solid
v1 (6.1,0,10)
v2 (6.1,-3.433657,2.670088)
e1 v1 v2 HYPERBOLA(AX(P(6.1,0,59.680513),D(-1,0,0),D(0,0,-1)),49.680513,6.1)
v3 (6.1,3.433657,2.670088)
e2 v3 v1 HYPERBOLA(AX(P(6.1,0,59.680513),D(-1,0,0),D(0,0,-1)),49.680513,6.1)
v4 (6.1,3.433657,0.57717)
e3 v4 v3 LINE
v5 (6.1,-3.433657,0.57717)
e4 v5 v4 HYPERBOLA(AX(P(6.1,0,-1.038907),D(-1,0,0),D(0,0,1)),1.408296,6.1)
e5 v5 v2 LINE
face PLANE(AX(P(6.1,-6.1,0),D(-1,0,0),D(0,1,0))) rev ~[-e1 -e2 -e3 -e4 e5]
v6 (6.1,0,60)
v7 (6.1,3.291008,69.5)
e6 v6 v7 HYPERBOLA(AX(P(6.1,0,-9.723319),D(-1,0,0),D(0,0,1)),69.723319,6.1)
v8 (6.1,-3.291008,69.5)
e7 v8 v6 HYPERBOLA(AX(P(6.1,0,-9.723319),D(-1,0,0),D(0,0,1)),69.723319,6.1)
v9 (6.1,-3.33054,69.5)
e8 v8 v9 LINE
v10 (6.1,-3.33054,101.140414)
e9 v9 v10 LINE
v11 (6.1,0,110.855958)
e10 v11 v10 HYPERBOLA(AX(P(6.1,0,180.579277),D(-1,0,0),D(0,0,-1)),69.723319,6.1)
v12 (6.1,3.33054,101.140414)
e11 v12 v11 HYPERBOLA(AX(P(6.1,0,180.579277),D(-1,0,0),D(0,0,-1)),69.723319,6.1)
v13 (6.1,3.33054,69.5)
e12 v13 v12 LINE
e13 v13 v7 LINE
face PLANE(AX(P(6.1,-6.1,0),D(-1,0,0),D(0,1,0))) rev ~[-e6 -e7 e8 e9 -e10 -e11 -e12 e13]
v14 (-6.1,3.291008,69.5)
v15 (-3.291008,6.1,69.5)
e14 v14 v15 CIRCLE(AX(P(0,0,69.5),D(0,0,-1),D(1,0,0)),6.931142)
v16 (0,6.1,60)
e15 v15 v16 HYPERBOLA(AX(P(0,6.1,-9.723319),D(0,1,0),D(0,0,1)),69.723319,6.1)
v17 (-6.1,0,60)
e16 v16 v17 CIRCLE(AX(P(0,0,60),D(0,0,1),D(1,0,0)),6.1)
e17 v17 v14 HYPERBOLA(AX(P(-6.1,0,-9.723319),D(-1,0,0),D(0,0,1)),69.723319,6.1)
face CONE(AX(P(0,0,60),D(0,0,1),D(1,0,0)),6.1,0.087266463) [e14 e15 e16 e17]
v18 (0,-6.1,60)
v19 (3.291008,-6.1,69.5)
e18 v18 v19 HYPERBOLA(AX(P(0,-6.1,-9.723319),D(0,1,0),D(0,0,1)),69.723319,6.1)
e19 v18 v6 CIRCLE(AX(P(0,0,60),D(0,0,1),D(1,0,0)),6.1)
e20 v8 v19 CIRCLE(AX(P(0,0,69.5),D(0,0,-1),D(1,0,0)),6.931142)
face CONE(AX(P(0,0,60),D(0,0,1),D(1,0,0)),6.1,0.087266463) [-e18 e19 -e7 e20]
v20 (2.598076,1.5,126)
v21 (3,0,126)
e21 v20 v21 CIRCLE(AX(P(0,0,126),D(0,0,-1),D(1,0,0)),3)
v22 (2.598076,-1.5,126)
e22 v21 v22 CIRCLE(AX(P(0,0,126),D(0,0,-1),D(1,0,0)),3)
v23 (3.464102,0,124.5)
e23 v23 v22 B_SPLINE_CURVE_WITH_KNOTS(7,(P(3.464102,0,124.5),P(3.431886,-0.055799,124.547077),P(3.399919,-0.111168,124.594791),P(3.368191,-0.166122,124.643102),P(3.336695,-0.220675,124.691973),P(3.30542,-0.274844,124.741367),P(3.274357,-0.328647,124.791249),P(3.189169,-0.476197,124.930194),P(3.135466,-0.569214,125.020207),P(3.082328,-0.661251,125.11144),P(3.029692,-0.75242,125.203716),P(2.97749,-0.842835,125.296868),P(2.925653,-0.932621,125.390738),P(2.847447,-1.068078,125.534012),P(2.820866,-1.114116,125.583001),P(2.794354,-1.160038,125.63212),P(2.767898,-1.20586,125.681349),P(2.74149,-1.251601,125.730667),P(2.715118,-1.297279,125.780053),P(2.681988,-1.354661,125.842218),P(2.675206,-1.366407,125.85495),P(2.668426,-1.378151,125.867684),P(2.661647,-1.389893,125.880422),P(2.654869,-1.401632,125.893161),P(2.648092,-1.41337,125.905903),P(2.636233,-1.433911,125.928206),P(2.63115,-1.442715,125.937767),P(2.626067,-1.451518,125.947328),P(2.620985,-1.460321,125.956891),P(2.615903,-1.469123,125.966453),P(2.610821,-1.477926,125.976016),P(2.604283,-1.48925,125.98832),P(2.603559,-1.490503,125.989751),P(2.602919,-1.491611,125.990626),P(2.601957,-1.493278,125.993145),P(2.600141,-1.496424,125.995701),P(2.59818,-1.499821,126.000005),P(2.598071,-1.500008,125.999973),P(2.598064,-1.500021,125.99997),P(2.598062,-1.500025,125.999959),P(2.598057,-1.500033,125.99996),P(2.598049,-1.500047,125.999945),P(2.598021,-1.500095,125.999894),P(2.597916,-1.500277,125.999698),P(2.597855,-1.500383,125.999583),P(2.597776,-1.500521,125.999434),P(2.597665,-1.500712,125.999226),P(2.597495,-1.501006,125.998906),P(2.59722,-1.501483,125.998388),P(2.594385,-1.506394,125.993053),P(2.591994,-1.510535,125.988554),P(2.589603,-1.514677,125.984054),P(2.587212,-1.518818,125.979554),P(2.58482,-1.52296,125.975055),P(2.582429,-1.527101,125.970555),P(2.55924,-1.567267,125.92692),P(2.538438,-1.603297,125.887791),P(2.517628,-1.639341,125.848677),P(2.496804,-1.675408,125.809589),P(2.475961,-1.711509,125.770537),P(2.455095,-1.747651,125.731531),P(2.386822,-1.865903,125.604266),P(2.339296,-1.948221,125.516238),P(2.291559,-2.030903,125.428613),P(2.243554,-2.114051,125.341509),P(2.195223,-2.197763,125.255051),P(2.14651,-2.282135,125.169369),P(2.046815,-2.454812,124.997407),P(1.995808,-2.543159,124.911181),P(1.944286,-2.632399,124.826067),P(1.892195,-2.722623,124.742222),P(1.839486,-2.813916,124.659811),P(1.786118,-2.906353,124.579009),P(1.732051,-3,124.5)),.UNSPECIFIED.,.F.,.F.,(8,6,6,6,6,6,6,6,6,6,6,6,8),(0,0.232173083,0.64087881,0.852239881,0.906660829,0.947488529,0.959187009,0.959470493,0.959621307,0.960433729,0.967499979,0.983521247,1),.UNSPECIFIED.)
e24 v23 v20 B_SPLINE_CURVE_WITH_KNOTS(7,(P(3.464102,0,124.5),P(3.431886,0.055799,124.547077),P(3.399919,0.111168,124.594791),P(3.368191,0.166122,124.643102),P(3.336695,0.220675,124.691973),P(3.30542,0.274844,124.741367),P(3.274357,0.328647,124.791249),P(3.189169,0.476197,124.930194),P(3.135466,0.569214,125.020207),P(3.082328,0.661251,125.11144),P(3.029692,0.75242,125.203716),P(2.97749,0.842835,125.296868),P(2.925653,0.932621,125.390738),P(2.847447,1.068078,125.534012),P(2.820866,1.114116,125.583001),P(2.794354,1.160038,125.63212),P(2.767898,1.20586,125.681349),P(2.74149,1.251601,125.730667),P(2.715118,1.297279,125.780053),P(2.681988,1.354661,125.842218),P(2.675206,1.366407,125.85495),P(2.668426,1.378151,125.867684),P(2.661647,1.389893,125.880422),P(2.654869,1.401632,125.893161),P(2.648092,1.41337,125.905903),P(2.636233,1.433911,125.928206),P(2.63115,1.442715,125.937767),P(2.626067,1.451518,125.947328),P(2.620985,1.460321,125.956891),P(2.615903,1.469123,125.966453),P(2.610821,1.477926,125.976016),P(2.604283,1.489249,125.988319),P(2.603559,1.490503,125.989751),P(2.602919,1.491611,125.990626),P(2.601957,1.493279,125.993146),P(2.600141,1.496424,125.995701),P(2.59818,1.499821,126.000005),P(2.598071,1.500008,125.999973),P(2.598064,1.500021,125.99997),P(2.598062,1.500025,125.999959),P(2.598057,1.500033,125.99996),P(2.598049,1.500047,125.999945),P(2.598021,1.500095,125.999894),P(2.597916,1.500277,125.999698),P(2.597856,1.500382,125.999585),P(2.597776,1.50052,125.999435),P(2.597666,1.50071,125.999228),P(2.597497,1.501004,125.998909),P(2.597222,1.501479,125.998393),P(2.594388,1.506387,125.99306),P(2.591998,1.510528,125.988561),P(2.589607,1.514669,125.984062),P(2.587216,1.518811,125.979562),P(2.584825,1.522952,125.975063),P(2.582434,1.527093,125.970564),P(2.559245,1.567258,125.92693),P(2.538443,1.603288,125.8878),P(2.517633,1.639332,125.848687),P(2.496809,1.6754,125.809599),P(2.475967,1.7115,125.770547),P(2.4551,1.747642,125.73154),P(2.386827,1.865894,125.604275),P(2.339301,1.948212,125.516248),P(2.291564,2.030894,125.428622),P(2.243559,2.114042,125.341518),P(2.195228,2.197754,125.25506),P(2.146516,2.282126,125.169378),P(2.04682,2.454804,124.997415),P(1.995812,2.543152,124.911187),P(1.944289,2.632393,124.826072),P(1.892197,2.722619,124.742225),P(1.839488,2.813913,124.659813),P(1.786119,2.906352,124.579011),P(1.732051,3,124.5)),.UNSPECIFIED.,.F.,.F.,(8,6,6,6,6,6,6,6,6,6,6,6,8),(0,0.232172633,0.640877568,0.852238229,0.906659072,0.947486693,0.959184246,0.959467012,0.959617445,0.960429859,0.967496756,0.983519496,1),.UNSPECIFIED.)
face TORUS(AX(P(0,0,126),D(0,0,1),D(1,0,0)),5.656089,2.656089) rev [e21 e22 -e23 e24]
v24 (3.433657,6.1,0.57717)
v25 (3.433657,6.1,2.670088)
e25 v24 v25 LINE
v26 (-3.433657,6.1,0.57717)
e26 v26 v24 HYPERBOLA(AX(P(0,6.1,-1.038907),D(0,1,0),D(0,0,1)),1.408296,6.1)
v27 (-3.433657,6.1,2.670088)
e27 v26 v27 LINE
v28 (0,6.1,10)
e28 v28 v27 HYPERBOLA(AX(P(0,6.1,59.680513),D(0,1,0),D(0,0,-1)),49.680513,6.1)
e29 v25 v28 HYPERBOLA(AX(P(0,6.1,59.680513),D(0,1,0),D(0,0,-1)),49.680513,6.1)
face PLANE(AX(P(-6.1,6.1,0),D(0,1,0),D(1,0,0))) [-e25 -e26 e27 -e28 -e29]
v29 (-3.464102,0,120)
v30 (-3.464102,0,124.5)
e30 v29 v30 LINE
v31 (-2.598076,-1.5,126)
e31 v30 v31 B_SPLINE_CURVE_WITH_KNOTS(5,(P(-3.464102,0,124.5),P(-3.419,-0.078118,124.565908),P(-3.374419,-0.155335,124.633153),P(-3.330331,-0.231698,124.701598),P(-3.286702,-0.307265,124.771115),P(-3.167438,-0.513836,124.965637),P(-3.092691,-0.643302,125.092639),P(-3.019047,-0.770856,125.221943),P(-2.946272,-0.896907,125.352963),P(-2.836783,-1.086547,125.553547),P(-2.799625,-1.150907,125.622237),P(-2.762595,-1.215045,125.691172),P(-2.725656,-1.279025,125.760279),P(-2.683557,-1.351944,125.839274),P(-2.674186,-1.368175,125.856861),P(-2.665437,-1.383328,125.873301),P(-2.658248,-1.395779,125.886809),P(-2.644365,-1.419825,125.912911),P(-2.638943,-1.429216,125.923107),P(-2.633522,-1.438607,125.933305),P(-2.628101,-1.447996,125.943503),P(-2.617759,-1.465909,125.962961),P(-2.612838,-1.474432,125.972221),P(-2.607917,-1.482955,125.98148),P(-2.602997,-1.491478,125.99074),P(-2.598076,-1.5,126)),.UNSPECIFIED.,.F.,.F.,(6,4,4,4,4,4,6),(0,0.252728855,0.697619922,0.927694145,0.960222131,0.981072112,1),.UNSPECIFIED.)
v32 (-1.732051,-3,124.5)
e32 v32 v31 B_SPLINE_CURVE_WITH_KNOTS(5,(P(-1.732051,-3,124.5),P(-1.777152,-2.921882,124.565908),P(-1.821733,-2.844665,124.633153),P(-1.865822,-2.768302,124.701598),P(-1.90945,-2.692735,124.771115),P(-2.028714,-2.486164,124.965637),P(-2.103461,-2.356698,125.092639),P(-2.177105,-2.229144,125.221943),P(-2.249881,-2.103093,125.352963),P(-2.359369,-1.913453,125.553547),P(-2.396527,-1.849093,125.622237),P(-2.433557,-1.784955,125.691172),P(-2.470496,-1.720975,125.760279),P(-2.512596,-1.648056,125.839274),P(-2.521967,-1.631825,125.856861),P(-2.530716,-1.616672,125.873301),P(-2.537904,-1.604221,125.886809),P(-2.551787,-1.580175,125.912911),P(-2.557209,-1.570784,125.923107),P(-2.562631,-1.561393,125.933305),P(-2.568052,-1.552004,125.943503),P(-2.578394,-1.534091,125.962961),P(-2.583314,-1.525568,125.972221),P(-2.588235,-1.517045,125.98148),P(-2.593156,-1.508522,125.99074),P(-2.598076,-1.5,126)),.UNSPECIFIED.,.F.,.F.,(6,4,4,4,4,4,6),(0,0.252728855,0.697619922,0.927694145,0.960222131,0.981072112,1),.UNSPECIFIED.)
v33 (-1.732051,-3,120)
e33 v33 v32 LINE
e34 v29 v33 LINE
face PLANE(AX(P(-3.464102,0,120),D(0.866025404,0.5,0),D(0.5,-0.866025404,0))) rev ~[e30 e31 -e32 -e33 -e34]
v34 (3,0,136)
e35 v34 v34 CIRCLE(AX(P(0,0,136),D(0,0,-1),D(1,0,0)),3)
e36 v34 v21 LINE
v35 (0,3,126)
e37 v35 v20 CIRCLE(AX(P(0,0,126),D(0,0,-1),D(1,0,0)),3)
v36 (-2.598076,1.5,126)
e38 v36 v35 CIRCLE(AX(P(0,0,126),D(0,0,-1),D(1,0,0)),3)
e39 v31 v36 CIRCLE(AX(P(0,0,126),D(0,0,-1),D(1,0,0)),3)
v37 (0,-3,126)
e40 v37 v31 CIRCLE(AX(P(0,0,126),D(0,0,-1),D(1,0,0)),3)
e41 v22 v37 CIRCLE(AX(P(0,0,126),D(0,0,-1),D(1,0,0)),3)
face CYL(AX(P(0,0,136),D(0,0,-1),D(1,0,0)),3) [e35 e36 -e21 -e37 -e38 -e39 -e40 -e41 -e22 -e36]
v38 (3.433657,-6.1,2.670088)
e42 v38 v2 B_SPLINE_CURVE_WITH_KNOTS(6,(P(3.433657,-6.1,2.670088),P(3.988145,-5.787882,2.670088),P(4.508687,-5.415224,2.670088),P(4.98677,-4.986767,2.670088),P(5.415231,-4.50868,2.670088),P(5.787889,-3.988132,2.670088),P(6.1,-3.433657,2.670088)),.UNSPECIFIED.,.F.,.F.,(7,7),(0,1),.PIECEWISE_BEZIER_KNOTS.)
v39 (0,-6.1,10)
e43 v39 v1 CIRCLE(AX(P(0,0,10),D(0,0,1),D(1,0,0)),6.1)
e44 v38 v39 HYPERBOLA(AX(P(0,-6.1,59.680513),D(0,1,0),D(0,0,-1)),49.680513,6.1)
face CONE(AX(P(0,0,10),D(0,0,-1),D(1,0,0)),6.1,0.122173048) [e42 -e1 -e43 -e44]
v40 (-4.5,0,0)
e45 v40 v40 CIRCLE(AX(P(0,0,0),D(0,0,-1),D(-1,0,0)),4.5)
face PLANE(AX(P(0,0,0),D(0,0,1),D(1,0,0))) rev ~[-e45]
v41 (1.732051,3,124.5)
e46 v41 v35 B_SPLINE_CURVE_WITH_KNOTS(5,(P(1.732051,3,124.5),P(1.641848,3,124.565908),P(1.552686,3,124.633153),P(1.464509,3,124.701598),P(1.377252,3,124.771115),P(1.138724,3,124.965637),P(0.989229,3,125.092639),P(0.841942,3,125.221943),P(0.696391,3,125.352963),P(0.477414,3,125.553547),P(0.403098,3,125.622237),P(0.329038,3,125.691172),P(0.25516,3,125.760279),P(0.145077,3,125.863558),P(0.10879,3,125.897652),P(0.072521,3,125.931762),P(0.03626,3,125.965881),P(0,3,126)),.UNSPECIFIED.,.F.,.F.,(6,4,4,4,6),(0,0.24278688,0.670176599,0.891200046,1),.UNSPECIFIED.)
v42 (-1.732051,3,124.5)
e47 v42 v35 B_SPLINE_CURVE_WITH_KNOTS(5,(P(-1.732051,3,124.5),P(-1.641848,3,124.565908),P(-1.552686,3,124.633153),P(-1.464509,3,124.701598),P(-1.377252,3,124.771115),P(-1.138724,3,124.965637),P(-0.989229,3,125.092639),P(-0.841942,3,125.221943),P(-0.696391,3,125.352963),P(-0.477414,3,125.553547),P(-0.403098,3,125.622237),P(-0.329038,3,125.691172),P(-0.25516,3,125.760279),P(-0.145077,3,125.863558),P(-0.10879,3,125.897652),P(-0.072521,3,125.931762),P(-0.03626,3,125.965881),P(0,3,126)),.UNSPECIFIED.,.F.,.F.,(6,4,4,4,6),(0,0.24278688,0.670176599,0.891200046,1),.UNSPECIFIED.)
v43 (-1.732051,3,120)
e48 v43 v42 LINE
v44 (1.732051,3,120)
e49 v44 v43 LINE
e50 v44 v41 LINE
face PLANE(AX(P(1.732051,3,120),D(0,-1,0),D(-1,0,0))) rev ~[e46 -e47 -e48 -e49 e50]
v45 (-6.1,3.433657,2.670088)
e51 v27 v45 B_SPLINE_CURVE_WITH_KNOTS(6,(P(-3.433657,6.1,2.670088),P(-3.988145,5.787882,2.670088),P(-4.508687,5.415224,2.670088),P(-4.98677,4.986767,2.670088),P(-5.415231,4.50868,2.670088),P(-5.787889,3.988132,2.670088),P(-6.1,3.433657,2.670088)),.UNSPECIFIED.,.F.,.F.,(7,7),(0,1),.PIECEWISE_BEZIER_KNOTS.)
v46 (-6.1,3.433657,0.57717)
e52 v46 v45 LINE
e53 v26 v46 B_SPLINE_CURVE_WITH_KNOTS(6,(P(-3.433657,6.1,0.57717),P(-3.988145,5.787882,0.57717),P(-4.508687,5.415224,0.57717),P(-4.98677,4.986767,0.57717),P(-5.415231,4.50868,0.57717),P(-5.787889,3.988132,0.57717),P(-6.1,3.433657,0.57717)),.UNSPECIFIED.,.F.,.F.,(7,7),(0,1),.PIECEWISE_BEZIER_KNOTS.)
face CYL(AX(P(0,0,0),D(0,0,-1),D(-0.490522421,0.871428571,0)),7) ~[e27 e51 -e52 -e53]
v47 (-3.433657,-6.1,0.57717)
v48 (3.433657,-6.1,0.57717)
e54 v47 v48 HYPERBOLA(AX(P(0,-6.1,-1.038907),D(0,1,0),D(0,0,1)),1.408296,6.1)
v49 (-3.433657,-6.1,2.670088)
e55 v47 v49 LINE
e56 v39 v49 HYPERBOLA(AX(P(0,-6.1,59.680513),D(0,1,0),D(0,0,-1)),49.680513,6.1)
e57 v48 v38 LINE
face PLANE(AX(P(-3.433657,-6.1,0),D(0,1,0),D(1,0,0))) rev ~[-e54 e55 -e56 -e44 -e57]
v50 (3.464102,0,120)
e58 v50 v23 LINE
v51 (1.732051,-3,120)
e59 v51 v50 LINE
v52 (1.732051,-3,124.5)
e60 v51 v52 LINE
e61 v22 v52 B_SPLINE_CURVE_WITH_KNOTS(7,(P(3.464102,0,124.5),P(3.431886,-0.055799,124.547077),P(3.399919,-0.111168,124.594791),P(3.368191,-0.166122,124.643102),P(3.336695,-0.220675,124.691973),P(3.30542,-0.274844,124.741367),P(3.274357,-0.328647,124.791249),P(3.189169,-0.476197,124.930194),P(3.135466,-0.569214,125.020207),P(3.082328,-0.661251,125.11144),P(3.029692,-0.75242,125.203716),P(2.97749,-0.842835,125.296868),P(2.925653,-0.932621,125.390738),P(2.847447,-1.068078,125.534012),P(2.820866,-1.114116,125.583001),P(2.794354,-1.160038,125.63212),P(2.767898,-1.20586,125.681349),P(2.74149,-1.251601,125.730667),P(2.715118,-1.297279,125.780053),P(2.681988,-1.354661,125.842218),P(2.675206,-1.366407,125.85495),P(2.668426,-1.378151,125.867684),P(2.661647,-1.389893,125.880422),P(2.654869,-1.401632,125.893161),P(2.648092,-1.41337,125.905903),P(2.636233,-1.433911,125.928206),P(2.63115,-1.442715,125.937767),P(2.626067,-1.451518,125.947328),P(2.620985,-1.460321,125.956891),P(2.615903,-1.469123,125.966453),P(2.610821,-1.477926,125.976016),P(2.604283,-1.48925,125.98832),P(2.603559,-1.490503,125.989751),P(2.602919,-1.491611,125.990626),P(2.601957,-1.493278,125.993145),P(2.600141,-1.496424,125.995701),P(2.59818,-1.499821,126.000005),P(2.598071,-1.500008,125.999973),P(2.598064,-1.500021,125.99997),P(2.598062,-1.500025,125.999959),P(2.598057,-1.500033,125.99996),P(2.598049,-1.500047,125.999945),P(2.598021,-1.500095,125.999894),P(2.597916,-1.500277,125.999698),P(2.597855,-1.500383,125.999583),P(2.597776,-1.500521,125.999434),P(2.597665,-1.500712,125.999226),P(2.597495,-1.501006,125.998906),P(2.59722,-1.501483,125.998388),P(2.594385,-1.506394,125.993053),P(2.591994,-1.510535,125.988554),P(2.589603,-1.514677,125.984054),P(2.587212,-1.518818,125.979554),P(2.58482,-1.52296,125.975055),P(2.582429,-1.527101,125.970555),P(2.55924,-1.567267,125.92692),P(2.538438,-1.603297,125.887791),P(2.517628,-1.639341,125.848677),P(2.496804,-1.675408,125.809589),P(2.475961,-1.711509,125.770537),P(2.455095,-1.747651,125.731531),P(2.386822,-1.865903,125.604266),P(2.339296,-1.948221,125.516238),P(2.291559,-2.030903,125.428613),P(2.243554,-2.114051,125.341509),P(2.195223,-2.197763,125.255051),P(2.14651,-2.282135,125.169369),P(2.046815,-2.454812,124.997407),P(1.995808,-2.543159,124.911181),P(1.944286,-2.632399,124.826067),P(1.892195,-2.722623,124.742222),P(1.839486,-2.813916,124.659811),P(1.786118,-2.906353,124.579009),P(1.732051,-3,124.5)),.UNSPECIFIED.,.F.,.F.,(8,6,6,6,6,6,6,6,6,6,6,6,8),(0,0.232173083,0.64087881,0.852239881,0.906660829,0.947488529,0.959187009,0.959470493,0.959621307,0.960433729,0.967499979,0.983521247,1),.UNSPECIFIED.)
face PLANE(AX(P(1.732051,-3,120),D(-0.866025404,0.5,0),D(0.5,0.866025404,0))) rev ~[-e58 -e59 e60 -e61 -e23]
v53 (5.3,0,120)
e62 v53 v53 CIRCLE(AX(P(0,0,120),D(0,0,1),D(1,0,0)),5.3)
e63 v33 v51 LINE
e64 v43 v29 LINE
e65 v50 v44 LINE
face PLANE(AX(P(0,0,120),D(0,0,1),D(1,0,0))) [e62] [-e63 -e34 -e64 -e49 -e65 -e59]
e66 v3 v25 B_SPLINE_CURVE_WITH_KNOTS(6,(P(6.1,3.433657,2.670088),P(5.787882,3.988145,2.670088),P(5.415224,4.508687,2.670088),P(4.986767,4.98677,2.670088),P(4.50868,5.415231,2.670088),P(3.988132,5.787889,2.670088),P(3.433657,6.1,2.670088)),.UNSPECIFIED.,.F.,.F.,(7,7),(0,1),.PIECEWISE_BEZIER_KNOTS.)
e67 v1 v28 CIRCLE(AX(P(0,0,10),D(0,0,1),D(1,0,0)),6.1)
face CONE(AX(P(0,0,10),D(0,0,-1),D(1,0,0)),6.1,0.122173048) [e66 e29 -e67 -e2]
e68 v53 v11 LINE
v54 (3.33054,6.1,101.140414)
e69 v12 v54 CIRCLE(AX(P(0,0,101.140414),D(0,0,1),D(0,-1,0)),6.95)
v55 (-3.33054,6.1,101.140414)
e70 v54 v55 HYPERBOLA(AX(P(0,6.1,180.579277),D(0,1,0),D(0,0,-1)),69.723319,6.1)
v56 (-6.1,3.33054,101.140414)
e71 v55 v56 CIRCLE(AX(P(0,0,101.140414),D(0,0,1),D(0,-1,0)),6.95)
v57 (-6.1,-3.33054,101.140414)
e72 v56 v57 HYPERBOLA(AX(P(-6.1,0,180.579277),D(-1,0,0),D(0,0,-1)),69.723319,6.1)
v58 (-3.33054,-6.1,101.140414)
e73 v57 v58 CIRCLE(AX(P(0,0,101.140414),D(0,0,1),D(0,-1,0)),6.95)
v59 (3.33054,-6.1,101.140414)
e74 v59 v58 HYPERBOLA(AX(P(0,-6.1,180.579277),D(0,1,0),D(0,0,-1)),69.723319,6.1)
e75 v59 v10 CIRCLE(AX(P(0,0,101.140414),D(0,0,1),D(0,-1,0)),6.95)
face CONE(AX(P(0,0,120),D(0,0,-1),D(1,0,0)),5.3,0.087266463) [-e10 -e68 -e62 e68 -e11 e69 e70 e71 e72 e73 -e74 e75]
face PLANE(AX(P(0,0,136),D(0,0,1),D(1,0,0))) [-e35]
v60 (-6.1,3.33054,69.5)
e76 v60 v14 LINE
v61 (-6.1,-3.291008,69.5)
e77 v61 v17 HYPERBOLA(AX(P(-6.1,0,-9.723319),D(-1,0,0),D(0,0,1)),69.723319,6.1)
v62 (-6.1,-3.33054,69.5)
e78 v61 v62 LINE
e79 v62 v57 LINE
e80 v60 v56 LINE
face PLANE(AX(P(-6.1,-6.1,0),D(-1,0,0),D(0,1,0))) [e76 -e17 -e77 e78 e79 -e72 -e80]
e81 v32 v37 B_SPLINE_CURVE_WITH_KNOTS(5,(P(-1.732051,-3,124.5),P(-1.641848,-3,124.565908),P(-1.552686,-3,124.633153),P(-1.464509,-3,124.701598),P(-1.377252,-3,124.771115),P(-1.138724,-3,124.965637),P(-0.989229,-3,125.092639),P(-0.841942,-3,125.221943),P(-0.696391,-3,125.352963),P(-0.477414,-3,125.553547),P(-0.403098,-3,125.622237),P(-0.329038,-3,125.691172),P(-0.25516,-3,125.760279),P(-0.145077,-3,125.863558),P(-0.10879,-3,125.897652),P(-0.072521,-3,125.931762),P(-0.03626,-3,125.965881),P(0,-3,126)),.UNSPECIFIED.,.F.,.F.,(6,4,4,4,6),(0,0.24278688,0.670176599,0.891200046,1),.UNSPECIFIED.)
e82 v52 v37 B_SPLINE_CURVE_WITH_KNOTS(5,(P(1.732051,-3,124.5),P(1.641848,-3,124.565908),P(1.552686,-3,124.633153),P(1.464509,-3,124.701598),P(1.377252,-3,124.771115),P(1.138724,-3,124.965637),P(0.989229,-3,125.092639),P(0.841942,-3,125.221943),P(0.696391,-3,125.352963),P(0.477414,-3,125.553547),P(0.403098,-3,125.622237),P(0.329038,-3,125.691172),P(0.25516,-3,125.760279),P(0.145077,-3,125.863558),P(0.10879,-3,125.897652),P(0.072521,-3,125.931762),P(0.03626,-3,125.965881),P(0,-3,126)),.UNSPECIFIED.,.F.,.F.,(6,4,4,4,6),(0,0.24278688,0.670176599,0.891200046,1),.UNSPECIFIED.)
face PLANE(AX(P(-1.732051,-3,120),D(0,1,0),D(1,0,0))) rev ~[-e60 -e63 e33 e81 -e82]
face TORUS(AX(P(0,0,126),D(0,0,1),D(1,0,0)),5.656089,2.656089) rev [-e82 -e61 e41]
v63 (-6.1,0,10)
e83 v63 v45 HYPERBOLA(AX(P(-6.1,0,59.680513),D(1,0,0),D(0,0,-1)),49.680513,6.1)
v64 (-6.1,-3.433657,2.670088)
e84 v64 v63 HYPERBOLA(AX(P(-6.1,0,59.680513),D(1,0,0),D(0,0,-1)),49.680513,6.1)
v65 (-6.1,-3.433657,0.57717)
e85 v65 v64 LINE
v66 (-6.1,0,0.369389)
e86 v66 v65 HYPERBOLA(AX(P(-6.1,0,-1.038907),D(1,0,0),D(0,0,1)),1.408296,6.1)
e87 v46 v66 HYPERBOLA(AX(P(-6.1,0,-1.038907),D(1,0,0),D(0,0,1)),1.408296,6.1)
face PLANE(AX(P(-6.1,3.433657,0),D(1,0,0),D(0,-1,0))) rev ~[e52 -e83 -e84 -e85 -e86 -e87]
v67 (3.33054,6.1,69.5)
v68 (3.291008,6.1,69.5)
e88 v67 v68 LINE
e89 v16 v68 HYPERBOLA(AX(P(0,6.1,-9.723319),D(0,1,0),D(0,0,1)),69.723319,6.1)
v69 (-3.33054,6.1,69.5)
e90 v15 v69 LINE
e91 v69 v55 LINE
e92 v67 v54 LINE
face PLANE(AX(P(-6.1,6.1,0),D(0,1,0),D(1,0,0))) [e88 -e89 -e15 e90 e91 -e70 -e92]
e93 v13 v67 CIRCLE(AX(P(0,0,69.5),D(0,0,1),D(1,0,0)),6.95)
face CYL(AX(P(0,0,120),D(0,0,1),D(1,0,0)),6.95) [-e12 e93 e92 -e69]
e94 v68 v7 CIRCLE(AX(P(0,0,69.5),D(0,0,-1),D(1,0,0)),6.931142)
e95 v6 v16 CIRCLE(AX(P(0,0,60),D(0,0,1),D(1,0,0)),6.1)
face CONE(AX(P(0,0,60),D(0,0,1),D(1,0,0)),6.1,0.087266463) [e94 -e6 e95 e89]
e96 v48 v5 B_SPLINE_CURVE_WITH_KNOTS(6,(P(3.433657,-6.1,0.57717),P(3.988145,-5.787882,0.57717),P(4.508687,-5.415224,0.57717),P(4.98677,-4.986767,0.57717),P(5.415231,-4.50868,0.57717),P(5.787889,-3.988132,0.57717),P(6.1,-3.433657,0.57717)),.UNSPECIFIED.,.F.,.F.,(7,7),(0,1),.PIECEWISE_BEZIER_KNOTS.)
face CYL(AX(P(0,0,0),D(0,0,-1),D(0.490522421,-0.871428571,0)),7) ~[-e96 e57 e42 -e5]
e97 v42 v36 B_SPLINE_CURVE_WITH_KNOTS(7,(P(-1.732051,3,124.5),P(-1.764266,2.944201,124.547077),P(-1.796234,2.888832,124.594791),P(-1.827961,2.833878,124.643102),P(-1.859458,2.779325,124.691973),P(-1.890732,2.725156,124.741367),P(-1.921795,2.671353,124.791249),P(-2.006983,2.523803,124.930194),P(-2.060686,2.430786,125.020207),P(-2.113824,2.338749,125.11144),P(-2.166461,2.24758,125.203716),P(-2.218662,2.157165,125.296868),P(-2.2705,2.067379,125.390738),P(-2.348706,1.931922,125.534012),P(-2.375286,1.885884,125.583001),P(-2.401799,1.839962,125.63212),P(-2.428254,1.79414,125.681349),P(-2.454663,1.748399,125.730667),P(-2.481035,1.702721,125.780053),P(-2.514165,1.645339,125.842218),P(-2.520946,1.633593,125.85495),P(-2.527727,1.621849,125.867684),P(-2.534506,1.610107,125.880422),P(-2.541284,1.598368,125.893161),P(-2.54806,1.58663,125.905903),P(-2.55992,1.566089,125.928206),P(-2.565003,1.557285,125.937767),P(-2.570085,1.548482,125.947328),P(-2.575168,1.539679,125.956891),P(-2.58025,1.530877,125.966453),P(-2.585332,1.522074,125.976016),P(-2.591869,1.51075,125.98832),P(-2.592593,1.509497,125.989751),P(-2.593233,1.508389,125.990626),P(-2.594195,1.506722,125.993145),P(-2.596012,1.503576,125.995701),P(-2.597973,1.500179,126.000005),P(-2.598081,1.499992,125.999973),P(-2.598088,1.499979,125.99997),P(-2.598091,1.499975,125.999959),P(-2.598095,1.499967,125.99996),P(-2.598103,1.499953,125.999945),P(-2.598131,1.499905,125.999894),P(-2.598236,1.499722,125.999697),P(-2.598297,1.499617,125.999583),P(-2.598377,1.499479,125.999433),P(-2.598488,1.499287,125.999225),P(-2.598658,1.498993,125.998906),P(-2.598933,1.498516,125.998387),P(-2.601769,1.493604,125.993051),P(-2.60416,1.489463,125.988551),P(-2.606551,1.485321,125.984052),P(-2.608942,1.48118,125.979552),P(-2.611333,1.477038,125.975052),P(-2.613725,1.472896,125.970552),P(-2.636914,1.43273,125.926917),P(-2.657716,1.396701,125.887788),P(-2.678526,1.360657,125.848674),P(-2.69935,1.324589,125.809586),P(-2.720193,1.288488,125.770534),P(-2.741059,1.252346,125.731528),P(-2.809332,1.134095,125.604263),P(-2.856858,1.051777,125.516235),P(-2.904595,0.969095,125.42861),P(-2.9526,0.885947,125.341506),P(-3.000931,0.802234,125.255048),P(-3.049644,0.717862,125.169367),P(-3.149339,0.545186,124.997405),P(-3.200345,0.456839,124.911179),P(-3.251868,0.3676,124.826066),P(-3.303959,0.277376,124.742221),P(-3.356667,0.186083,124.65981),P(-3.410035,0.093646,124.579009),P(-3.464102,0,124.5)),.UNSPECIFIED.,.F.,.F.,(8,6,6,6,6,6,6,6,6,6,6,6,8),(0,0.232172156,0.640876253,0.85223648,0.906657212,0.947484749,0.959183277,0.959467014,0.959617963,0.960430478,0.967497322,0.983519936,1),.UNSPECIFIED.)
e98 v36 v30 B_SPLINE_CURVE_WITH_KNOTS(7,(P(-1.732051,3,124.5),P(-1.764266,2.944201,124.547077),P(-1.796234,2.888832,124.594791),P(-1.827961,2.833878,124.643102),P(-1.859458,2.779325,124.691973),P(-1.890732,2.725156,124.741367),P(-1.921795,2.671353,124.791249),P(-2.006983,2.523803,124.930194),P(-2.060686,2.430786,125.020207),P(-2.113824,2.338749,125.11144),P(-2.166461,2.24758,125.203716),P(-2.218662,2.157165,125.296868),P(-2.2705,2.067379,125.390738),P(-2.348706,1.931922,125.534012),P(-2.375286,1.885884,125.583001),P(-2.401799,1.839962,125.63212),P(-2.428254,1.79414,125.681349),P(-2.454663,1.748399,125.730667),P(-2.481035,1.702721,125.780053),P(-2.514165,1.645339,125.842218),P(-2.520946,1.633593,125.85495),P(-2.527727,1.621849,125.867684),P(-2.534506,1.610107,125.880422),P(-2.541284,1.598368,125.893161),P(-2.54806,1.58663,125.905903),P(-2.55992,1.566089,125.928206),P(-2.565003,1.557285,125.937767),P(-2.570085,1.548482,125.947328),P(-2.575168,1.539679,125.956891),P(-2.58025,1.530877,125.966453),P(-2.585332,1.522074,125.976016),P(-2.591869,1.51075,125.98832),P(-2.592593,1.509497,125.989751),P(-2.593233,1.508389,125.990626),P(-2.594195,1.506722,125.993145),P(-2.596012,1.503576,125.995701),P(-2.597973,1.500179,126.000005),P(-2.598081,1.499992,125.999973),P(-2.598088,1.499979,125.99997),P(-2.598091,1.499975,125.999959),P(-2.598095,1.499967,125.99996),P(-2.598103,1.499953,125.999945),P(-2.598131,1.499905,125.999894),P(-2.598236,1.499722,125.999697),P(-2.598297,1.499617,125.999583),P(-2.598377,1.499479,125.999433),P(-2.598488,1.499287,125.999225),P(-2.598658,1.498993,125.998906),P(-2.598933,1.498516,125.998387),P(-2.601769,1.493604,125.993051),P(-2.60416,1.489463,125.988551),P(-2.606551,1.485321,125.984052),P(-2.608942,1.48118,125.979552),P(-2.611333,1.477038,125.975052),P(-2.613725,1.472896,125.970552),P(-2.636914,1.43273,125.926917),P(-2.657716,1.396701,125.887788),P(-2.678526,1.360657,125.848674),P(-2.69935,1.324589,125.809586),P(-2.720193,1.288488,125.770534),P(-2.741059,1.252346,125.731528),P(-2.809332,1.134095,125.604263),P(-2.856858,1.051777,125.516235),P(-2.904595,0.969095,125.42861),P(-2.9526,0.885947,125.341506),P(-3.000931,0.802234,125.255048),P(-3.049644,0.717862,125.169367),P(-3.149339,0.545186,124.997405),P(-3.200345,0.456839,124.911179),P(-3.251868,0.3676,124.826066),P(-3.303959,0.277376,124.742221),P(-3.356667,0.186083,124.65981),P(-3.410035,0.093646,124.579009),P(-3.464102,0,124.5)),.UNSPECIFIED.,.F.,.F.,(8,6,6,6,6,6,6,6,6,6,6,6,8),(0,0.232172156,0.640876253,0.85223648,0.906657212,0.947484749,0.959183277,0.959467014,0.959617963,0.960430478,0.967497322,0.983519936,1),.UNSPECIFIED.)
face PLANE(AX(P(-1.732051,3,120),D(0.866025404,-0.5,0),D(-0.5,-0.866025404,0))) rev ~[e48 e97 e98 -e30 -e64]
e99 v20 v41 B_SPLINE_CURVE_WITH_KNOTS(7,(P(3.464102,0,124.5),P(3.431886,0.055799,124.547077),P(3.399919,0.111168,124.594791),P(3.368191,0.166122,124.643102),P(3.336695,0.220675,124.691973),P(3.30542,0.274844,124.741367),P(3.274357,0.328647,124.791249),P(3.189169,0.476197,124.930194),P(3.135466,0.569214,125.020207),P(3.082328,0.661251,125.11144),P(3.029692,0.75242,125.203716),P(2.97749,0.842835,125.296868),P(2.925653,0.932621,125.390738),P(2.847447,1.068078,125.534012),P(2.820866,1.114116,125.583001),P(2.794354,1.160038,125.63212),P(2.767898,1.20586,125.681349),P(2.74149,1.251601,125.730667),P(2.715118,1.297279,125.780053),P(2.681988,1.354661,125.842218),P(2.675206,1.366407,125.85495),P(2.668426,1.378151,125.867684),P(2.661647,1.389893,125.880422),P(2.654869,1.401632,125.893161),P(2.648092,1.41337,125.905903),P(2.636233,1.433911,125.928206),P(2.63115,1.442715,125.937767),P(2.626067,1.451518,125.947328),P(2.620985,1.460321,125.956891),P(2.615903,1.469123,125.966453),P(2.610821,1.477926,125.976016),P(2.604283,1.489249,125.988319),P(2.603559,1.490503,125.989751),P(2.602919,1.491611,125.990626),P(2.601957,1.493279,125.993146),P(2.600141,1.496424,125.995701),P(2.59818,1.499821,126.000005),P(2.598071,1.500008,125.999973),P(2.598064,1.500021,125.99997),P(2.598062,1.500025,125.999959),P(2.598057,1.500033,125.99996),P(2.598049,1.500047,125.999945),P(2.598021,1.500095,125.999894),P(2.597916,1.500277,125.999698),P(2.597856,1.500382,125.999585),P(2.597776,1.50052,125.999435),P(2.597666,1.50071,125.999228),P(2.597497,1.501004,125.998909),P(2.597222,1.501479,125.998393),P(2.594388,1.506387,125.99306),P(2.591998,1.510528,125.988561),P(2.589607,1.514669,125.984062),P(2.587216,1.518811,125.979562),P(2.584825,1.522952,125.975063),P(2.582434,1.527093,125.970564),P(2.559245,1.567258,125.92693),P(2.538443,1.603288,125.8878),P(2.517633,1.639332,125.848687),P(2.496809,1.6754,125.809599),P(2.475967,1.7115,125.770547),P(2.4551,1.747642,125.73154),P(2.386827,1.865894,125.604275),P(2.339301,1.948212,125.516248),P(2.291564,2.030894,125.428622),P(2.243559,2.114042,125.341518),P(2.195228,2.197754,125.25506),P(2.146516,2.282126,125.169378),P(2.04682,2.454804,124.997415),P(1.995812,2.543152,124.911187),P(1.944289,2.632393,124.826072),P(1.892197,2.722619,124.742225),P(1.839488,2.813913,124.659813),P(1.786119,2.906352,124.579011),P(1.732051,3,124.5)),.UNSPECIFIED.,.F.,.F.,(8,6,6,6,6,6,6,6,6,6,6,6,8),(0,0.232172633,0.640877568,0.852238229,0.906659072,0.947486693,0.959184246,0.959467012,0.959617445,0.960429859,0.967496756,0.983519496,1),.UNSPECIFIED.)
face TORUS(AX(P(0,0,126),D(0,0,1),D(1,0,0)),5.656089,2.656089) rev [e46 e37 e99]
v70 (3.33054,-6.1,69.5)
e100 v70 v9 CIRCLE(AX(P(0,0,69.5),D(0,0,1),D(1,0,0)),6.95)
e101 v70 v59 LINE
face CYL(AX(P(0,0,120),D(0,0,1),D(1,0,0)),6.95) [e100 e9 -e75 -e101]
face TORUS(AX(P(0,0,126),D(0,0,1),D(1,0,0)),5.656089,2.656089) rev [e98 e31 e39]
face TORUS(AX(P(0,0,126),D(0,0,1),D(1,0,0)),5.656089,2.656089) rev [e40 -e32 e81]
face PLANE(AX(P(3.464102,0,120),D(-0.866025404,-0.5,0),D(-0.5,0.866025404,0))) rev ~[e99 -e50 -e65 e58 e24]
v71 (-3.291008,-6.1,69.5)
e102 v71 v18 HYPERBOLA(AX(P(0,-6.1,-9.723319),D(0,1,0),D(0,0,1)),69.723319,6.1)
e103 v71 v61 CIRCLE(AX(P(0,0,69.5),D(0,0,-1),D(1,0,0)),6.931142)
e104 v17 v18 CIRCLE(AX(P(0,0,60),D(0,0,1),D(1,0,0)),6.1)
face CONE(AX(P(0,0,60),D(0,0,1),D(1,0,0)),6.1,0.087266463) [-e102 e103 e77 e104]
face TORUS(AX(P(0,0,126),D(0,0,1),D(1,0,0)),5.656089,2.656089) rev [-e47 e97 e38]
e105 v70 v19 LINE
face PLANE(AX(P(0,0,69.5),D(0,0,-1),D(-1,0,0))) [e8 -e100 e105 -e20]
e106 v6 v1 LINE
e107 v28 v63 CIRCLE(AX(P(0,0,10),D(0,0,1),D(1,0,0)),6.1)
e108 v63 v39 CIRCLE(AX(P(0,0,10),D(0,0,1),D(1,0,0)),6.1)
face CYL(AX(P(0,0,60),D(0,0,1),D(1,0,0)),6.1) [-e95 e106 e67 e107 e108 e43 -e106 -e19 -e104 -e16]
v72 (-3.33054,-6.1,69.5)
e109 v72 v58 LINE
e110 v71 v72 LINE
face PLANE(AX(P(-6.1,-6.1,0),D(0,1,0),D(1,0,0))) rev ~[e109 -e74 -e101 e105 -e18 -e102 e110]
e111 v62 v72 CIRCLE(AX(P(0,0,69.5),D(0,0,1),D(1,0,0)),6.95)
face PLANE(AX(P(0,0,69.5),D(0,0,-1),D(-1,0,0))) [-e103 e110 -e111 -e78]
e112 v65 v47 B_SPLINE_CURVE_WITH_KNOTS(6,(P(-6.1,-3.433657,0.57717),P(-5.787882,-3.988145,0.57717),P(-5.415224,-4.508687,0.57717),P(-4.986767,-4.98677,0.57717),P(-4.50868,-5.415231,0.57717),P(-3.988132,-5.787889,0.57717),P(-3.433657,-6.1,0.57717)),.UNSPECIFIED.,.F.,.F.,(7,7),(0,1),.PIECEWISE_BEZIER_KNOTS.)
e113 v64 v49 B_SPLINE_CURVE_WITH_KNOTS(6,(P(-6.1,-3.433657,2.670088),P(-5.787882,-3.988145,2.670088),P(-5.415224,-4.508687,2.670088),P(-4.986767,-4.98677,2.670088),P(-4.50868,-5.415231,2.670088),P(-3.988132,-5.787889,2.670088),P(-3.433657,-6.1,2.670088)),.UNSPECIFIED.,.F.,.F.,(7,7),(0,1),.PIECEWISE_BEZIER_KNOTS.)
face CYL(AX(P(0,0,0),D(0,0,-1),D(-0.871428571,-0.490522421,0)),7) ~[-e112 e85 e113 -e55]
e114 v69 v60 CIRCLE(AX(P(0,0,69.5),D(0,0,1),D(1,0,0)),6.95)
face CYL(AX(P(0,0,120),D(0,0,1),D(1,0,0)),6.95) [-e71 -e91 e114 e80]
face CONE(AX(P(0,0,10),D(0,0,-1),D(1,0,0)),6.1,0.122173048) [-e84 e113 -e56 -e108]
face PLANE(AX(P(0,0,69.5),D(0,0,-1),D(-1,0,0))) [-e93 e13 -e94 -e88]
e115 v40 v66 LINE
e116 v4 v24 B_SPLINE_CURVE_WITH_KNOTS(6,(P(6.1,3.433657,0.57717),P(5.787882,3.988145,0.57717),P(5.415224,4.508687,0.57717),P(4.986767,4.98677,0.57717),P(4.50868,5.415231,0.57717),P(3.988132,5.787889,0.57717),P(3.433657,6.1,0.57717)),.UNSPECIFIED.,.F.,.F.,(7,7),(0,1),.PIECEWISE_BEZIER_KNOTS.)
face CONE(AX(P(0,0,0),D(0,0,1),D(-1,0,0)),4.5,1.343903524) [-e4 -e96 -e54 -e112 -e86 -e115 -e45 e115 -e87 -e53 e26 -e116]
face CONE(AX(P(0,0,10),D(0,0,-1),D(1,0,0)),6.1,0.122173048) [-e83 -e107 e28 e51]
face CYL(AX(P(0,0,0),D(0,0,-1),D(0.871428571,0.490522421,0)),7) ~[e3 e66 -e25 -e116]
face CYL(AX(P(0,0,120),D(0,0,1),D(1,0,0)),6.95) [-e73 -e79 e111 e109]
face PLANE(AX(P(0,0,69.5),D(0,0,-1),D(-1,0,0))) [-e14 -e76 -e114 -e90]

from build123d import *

# Parameters (mm, degrees)
SKETCH1_W           = 12.2
SKETCH1_H           = 12.2
BOSS_EXTRUDE1_DEPTH = 120
SKETCH2_OUTSIDE_W   = 38.446
SKETCH2_OUTSIDE_H   = 38.446
SKETCH2_OUTSIDE_R   = 6.95
CUT_EXTRUDE1_DEPTH  = 121.309683733
SKETCH3_OUTSIDE_W   = 41.946
SKETCH3_OUTSIDE_H   = 41.946
SKETCH3_OUTSIDE_R   = 5.3
CUT_EXTRUDE2_DEPTH  = 20
CUT_EXTRUDE2_DRAFT  = -5
CUT_EXTRUDE3_START  = -60
SKETCH4_OUTSIDE_W   = 38.446
SKETCH4_OUTSIDE_H   = 38.446
SKETCH4_OUTSIDE_R   = 6.1
CUT_EXTRUDE3_DEPTH  = 50
SKETCH5_OUTSIDE_W   = 40.11
SKETCH5_OUTSIDE_H   = 40.11
SKETCH5_OUTSIDE_R   = 6.1
CUT_EXTRUDE4_DEPTH  = 9.5
CUT_EXTRUDE4_DRAFT  = -5
BOSS_EXTRUDE2_DEPTH = 3.5
SKETCH6_OUTSIDE_W   = 40.78
SKETCH6_OUTSIDE_H   = 40.78
SKETCH6_OUTSIDE_R   = 6.1
CUT_EXTRUDE6_DEPTH  = 9.5
CUT_EXTRUDE6_DRAFT  = -7
SKETCH8_OUTSIDE_W   = 68.768
SKETCH8_OUTSIDE_H   = 68.768
SKETCH8_OUTSIDE_R   = 4.5
CUT_EXTRUDE7_DEPTH  = 3.5
CUT_EXTRUDE7_DRAFT  = -77
BOSS_EXTRUDE3_DEPTH = 16


with BuildPart() as part:
    # Sketch1 → Boss-Extrude1 (new body)
    with BuildSketch(Plane.XY):
        Rectangle(SKETCH1_W, SKETCH1_H)
    extrude(amount=BOSS_EXTRUDE1_DEPTH)

    # Sketch2 outside → Cut-Extrude1 (cut, through all)
    with BuildSketch(Plane.XY.offset(120)):
        Rectangle(SKETCH2_OUTSIDE_W, SKETCH2_OUTSIDE_H)
        Circle(SKETCH2_OUTSIDE_R, mode=Mode.SUBTRACT)
    extrude(amount=-CUT_EXTRUDE1_DEPTH, mode=Mode.SUBTRACT)


with BuildPart() as cut_extrude2_tool:
    # Sketch3 outside → Cut-Extrude2 (with draft: the straight prism first)
    with BuildSketch(Plane.XY.offset(120)):
        Rectangle(SKETCH3_OUTSIDE_W, SKETCH3_OUTSIDE_H)
        Circle(SKETCH3_OUTSIDE_R, mode=Mode.SUBTRACT)
    extrude(amount=-CUT_EXTRUDE2_DEPTH)
    # Cut-Extrude2: the draft: its side faces are tilted about the plane it starts from
    cut_extrude2_sides = [cut_extrude2_tool.faces().sort_by_distance(p)[0] for p in [
        (0, -20.973, 110),
        (20.973, 0, 110),
        (0, 20.973, 110),
        (-20.973, 0, 110),
        (-5.3, 0, 110),
    ]]
    draft(cut_extrude2_sides, Plane.XY.offset(120), CUT_EXTRUDE2_DRAFT)


with BuildPart() as part_1:
    add(part.part)

    # Cut-Extrude2: cut by cut_extrude2_tool
    add(cut_extrude2_tool.part, mode=Mode.SUBTRACT)

    # Sketch4 outside → Cut-Extrude3 (cut)
    with BuildSketch(Plane.XY.offset(120).offset(CUT_EXTRUDE3_START)):
        Rectangle(SKETCH4_OUTSIDE_W, SKETCH4_OUTSIDE_H)
        Circle(SKETCH4_OUTSIDE_R, mode=Mode.SUBTRACT)
    extrude(amount=-CUT_EXTRUDE3_DEPTH, mode=Mode.SUBTRACT)


with BuildPart() as cut_extrude4_tool:
    # Sketch5 outside → Cut-Extrude4 (with draft: the straight prism first)
    with BuildSketch(Plane(origin=(0, 0, 60), x_dir=(-1, 0, 0), z_dir=(0, 0, -1))):
        Rectangle(SKETCH5_OUTSIDE_W, SKETCH5_OUTSIDE_H)
        with Locations(Location((0, 0, 0), (0, 0, 180))):
            Circle(SKETCH5_OUTSIDE_R, mode=Mode.SUBTRACT)
    extrude(amount=-CUT_EXTRUDE4_DEPTH)
    # Cut-Extrude4: the draft: its side faces are tilted about the plane it starts from
    cut_extrude4_sides = [cut_extrude4_tool.faces().sort_by_distance(p)[0] for p in [
        (0, -20.055, 64.75),
        (-20.055, 0, 64.75),
        (0, 20.055, 64.75),
        (20.055, 0, 64.75),
        (-6.1, 0, 64.75),
    ]]
    draft(cut_extrude4_sides, Plane(origin=(0, 0, 60), x_dir=(-1, 0, 0), z_dir=(0, 0, -1)), CUT_EXTRUDE4_DRAFT)


with BuildPart() as part_2:
    add(part_1.part)

    # Cut-Extrude4: cut by cut_extrude4_tool
    add(cut_extrude4_tool.part, mode=Mode.SUBTRACT)

    # Sketch7 → Boss-Extrude2 (add)
    with BuildSketch(Plane(origin=(0, 0, 0), x_dir=(-1, 0, 0), z_dir=(0, 0, -1))):
        with BuildLine():
            Line((3.433656943, -6.1), (-3.433656943, -6.1))
            ThreePointArc((-3.433656943, -6.1), (-4.949747468, -4.949747468), (-6.1, -3.433656943))
            Line((-6.1, -3.433656943), (-6.1, 3.433656943))
            ThreePointArc((-6.1, 3.433656943), (-4.949747468, 4.949747468), (-3.433656943, 6.1))
            Line((-3.433656943, 6.1), (3.433656943, 6.1))
            ThreePointArc((3.433656943, 6.1), (4.949747468, 4.949747468), (6.1, 3.433656943))
            Line((6.1, 3.433656943), (6.1, -3.433656943))
            ThreePointArc((6.1, -3.433656943), (4.949747468, -4.949747468), (3.433656943, -6.1))
        make_face()
    extrude(amount=-BOSS_EXTRUDE2_DEPTH)


with BuildPart() as cut_extrude6_tool:
    # Sketch6 outside → Cut-Extrude6 (with draft: the straight prism first)
    with BuildSketch(Plane.XY.offset(10)):
        Rectangle(SKETCH6_OUTSIDE_W, SKETCH6_OUTSIDE_H)
        Circle(SKETCH6_OUTSIDE_R, mode=Mode.SUBTRACT)
    extrude(amount=-CUT_EXTRUDE6_DEPTH)
    # Cut-Extrude6: the draft: its side faces are tilted about the plane it starts from
    cut_extrude6_sides = [cut_extrude6_tool.faces().sort_by_distance(p)[0] for p in [
        (0, -20.39, 5.25),
        (20.39, 0, 5.25),
        (0, 20.39, 5.25),
        (-20.39, 0, 5.25),
        (-6.1, 0, 5.25),
    ]]
    draft(cut_extrude6_sides, Plane.XY.offset(10), CUT_EXTRUDE6_DRAFT)


with BuildPart() as part_3:
    add(part_2.part)

    # Cut-Extrude6: cut by cut_extrude6_tool
    add(cut_extrude6_tool.part, mode=Mode.SUBTRACT)


with BuildPart() as cut_extrude7_tool:
    # Sketch8 outside → Cut-Extrude7 (with draft: the straight prism first)
    with BuildSketch(Plane(origin=(0, 0, 0), x_dir=(-1, 0, 0), z_dir=(0, 0, -1))):
        Rectangle(SKETCH8_OUTSIDE_W, SKETCH8_OUTSIDE_H)
        Circle(SKETCH8_OUTSIDE_R, mode=Mode.SUBTRACT)
    extrude(amount=-CUT_EXTRUDE7_DEPTH)
    # Cut-Extrude7: the draft: its side faces are tilted about the plane it starts from
    cut_extrude7_sides = [cut_extrude7_tool.faces().sort_by_distance(p)[0] for p in [
        (0, -34.384, 1.75),
        (-34.384, 0, 1.75),
        (0, 34.384, 1.75),
        (34.384, 0, 1.75),
        (4.5, 0, 1.75),
    ]]
    draft(cut_extrude7_sides, Plane(origin=(0, 0, 0), x_dir=(-1, 0, 0), z_dir=(0, 0, -1)), CUT_EXTRUDE7_DRAFT)


with BuildPart() as part_4:
    add(part_3.part)

    # Cut-Extrude7: cut by cut_extrude7_tool
    add(cut_extrude7_tool.part, mode=Mode.SUBTRACT)

    # Sketch9 → Boss-Extrude3 (add)
    with BuildSketch(Plane.XY.offset(120)):
        Polygon((1.732050808, 3), (-1.732050808, 3), (-3.464101615, 0), (-1.732050808, -3), (1.732050808, -3), (3.464101615, 0), align=None)
    extrude(amount=BOSS_EXTRUDE3_DEPTH)

    # Sketch10 → Cut-Revolve1 (revolve, cut)
    with BuildSketch(Plane(origin=(0, 0, 0), x_dir=(1, 0, 0), z_dir=(0, 1, 0))):
        with BuildLine():
            Line((3, -136), (3, -126))
            ThreePointArc((3, -126), (3.1186767, -125.214921929), (3.464101615, -124.5))
            Line((3.464101615, -124.5), (3.464101615, -136))
            Line((3.464101615, -136), (3, -136))
        make_face()
    revolve(axis=Axis((0, 0, 120), (0, 0, -1)), mode=Mode.SUBTRACT)


solid = part_4.part
